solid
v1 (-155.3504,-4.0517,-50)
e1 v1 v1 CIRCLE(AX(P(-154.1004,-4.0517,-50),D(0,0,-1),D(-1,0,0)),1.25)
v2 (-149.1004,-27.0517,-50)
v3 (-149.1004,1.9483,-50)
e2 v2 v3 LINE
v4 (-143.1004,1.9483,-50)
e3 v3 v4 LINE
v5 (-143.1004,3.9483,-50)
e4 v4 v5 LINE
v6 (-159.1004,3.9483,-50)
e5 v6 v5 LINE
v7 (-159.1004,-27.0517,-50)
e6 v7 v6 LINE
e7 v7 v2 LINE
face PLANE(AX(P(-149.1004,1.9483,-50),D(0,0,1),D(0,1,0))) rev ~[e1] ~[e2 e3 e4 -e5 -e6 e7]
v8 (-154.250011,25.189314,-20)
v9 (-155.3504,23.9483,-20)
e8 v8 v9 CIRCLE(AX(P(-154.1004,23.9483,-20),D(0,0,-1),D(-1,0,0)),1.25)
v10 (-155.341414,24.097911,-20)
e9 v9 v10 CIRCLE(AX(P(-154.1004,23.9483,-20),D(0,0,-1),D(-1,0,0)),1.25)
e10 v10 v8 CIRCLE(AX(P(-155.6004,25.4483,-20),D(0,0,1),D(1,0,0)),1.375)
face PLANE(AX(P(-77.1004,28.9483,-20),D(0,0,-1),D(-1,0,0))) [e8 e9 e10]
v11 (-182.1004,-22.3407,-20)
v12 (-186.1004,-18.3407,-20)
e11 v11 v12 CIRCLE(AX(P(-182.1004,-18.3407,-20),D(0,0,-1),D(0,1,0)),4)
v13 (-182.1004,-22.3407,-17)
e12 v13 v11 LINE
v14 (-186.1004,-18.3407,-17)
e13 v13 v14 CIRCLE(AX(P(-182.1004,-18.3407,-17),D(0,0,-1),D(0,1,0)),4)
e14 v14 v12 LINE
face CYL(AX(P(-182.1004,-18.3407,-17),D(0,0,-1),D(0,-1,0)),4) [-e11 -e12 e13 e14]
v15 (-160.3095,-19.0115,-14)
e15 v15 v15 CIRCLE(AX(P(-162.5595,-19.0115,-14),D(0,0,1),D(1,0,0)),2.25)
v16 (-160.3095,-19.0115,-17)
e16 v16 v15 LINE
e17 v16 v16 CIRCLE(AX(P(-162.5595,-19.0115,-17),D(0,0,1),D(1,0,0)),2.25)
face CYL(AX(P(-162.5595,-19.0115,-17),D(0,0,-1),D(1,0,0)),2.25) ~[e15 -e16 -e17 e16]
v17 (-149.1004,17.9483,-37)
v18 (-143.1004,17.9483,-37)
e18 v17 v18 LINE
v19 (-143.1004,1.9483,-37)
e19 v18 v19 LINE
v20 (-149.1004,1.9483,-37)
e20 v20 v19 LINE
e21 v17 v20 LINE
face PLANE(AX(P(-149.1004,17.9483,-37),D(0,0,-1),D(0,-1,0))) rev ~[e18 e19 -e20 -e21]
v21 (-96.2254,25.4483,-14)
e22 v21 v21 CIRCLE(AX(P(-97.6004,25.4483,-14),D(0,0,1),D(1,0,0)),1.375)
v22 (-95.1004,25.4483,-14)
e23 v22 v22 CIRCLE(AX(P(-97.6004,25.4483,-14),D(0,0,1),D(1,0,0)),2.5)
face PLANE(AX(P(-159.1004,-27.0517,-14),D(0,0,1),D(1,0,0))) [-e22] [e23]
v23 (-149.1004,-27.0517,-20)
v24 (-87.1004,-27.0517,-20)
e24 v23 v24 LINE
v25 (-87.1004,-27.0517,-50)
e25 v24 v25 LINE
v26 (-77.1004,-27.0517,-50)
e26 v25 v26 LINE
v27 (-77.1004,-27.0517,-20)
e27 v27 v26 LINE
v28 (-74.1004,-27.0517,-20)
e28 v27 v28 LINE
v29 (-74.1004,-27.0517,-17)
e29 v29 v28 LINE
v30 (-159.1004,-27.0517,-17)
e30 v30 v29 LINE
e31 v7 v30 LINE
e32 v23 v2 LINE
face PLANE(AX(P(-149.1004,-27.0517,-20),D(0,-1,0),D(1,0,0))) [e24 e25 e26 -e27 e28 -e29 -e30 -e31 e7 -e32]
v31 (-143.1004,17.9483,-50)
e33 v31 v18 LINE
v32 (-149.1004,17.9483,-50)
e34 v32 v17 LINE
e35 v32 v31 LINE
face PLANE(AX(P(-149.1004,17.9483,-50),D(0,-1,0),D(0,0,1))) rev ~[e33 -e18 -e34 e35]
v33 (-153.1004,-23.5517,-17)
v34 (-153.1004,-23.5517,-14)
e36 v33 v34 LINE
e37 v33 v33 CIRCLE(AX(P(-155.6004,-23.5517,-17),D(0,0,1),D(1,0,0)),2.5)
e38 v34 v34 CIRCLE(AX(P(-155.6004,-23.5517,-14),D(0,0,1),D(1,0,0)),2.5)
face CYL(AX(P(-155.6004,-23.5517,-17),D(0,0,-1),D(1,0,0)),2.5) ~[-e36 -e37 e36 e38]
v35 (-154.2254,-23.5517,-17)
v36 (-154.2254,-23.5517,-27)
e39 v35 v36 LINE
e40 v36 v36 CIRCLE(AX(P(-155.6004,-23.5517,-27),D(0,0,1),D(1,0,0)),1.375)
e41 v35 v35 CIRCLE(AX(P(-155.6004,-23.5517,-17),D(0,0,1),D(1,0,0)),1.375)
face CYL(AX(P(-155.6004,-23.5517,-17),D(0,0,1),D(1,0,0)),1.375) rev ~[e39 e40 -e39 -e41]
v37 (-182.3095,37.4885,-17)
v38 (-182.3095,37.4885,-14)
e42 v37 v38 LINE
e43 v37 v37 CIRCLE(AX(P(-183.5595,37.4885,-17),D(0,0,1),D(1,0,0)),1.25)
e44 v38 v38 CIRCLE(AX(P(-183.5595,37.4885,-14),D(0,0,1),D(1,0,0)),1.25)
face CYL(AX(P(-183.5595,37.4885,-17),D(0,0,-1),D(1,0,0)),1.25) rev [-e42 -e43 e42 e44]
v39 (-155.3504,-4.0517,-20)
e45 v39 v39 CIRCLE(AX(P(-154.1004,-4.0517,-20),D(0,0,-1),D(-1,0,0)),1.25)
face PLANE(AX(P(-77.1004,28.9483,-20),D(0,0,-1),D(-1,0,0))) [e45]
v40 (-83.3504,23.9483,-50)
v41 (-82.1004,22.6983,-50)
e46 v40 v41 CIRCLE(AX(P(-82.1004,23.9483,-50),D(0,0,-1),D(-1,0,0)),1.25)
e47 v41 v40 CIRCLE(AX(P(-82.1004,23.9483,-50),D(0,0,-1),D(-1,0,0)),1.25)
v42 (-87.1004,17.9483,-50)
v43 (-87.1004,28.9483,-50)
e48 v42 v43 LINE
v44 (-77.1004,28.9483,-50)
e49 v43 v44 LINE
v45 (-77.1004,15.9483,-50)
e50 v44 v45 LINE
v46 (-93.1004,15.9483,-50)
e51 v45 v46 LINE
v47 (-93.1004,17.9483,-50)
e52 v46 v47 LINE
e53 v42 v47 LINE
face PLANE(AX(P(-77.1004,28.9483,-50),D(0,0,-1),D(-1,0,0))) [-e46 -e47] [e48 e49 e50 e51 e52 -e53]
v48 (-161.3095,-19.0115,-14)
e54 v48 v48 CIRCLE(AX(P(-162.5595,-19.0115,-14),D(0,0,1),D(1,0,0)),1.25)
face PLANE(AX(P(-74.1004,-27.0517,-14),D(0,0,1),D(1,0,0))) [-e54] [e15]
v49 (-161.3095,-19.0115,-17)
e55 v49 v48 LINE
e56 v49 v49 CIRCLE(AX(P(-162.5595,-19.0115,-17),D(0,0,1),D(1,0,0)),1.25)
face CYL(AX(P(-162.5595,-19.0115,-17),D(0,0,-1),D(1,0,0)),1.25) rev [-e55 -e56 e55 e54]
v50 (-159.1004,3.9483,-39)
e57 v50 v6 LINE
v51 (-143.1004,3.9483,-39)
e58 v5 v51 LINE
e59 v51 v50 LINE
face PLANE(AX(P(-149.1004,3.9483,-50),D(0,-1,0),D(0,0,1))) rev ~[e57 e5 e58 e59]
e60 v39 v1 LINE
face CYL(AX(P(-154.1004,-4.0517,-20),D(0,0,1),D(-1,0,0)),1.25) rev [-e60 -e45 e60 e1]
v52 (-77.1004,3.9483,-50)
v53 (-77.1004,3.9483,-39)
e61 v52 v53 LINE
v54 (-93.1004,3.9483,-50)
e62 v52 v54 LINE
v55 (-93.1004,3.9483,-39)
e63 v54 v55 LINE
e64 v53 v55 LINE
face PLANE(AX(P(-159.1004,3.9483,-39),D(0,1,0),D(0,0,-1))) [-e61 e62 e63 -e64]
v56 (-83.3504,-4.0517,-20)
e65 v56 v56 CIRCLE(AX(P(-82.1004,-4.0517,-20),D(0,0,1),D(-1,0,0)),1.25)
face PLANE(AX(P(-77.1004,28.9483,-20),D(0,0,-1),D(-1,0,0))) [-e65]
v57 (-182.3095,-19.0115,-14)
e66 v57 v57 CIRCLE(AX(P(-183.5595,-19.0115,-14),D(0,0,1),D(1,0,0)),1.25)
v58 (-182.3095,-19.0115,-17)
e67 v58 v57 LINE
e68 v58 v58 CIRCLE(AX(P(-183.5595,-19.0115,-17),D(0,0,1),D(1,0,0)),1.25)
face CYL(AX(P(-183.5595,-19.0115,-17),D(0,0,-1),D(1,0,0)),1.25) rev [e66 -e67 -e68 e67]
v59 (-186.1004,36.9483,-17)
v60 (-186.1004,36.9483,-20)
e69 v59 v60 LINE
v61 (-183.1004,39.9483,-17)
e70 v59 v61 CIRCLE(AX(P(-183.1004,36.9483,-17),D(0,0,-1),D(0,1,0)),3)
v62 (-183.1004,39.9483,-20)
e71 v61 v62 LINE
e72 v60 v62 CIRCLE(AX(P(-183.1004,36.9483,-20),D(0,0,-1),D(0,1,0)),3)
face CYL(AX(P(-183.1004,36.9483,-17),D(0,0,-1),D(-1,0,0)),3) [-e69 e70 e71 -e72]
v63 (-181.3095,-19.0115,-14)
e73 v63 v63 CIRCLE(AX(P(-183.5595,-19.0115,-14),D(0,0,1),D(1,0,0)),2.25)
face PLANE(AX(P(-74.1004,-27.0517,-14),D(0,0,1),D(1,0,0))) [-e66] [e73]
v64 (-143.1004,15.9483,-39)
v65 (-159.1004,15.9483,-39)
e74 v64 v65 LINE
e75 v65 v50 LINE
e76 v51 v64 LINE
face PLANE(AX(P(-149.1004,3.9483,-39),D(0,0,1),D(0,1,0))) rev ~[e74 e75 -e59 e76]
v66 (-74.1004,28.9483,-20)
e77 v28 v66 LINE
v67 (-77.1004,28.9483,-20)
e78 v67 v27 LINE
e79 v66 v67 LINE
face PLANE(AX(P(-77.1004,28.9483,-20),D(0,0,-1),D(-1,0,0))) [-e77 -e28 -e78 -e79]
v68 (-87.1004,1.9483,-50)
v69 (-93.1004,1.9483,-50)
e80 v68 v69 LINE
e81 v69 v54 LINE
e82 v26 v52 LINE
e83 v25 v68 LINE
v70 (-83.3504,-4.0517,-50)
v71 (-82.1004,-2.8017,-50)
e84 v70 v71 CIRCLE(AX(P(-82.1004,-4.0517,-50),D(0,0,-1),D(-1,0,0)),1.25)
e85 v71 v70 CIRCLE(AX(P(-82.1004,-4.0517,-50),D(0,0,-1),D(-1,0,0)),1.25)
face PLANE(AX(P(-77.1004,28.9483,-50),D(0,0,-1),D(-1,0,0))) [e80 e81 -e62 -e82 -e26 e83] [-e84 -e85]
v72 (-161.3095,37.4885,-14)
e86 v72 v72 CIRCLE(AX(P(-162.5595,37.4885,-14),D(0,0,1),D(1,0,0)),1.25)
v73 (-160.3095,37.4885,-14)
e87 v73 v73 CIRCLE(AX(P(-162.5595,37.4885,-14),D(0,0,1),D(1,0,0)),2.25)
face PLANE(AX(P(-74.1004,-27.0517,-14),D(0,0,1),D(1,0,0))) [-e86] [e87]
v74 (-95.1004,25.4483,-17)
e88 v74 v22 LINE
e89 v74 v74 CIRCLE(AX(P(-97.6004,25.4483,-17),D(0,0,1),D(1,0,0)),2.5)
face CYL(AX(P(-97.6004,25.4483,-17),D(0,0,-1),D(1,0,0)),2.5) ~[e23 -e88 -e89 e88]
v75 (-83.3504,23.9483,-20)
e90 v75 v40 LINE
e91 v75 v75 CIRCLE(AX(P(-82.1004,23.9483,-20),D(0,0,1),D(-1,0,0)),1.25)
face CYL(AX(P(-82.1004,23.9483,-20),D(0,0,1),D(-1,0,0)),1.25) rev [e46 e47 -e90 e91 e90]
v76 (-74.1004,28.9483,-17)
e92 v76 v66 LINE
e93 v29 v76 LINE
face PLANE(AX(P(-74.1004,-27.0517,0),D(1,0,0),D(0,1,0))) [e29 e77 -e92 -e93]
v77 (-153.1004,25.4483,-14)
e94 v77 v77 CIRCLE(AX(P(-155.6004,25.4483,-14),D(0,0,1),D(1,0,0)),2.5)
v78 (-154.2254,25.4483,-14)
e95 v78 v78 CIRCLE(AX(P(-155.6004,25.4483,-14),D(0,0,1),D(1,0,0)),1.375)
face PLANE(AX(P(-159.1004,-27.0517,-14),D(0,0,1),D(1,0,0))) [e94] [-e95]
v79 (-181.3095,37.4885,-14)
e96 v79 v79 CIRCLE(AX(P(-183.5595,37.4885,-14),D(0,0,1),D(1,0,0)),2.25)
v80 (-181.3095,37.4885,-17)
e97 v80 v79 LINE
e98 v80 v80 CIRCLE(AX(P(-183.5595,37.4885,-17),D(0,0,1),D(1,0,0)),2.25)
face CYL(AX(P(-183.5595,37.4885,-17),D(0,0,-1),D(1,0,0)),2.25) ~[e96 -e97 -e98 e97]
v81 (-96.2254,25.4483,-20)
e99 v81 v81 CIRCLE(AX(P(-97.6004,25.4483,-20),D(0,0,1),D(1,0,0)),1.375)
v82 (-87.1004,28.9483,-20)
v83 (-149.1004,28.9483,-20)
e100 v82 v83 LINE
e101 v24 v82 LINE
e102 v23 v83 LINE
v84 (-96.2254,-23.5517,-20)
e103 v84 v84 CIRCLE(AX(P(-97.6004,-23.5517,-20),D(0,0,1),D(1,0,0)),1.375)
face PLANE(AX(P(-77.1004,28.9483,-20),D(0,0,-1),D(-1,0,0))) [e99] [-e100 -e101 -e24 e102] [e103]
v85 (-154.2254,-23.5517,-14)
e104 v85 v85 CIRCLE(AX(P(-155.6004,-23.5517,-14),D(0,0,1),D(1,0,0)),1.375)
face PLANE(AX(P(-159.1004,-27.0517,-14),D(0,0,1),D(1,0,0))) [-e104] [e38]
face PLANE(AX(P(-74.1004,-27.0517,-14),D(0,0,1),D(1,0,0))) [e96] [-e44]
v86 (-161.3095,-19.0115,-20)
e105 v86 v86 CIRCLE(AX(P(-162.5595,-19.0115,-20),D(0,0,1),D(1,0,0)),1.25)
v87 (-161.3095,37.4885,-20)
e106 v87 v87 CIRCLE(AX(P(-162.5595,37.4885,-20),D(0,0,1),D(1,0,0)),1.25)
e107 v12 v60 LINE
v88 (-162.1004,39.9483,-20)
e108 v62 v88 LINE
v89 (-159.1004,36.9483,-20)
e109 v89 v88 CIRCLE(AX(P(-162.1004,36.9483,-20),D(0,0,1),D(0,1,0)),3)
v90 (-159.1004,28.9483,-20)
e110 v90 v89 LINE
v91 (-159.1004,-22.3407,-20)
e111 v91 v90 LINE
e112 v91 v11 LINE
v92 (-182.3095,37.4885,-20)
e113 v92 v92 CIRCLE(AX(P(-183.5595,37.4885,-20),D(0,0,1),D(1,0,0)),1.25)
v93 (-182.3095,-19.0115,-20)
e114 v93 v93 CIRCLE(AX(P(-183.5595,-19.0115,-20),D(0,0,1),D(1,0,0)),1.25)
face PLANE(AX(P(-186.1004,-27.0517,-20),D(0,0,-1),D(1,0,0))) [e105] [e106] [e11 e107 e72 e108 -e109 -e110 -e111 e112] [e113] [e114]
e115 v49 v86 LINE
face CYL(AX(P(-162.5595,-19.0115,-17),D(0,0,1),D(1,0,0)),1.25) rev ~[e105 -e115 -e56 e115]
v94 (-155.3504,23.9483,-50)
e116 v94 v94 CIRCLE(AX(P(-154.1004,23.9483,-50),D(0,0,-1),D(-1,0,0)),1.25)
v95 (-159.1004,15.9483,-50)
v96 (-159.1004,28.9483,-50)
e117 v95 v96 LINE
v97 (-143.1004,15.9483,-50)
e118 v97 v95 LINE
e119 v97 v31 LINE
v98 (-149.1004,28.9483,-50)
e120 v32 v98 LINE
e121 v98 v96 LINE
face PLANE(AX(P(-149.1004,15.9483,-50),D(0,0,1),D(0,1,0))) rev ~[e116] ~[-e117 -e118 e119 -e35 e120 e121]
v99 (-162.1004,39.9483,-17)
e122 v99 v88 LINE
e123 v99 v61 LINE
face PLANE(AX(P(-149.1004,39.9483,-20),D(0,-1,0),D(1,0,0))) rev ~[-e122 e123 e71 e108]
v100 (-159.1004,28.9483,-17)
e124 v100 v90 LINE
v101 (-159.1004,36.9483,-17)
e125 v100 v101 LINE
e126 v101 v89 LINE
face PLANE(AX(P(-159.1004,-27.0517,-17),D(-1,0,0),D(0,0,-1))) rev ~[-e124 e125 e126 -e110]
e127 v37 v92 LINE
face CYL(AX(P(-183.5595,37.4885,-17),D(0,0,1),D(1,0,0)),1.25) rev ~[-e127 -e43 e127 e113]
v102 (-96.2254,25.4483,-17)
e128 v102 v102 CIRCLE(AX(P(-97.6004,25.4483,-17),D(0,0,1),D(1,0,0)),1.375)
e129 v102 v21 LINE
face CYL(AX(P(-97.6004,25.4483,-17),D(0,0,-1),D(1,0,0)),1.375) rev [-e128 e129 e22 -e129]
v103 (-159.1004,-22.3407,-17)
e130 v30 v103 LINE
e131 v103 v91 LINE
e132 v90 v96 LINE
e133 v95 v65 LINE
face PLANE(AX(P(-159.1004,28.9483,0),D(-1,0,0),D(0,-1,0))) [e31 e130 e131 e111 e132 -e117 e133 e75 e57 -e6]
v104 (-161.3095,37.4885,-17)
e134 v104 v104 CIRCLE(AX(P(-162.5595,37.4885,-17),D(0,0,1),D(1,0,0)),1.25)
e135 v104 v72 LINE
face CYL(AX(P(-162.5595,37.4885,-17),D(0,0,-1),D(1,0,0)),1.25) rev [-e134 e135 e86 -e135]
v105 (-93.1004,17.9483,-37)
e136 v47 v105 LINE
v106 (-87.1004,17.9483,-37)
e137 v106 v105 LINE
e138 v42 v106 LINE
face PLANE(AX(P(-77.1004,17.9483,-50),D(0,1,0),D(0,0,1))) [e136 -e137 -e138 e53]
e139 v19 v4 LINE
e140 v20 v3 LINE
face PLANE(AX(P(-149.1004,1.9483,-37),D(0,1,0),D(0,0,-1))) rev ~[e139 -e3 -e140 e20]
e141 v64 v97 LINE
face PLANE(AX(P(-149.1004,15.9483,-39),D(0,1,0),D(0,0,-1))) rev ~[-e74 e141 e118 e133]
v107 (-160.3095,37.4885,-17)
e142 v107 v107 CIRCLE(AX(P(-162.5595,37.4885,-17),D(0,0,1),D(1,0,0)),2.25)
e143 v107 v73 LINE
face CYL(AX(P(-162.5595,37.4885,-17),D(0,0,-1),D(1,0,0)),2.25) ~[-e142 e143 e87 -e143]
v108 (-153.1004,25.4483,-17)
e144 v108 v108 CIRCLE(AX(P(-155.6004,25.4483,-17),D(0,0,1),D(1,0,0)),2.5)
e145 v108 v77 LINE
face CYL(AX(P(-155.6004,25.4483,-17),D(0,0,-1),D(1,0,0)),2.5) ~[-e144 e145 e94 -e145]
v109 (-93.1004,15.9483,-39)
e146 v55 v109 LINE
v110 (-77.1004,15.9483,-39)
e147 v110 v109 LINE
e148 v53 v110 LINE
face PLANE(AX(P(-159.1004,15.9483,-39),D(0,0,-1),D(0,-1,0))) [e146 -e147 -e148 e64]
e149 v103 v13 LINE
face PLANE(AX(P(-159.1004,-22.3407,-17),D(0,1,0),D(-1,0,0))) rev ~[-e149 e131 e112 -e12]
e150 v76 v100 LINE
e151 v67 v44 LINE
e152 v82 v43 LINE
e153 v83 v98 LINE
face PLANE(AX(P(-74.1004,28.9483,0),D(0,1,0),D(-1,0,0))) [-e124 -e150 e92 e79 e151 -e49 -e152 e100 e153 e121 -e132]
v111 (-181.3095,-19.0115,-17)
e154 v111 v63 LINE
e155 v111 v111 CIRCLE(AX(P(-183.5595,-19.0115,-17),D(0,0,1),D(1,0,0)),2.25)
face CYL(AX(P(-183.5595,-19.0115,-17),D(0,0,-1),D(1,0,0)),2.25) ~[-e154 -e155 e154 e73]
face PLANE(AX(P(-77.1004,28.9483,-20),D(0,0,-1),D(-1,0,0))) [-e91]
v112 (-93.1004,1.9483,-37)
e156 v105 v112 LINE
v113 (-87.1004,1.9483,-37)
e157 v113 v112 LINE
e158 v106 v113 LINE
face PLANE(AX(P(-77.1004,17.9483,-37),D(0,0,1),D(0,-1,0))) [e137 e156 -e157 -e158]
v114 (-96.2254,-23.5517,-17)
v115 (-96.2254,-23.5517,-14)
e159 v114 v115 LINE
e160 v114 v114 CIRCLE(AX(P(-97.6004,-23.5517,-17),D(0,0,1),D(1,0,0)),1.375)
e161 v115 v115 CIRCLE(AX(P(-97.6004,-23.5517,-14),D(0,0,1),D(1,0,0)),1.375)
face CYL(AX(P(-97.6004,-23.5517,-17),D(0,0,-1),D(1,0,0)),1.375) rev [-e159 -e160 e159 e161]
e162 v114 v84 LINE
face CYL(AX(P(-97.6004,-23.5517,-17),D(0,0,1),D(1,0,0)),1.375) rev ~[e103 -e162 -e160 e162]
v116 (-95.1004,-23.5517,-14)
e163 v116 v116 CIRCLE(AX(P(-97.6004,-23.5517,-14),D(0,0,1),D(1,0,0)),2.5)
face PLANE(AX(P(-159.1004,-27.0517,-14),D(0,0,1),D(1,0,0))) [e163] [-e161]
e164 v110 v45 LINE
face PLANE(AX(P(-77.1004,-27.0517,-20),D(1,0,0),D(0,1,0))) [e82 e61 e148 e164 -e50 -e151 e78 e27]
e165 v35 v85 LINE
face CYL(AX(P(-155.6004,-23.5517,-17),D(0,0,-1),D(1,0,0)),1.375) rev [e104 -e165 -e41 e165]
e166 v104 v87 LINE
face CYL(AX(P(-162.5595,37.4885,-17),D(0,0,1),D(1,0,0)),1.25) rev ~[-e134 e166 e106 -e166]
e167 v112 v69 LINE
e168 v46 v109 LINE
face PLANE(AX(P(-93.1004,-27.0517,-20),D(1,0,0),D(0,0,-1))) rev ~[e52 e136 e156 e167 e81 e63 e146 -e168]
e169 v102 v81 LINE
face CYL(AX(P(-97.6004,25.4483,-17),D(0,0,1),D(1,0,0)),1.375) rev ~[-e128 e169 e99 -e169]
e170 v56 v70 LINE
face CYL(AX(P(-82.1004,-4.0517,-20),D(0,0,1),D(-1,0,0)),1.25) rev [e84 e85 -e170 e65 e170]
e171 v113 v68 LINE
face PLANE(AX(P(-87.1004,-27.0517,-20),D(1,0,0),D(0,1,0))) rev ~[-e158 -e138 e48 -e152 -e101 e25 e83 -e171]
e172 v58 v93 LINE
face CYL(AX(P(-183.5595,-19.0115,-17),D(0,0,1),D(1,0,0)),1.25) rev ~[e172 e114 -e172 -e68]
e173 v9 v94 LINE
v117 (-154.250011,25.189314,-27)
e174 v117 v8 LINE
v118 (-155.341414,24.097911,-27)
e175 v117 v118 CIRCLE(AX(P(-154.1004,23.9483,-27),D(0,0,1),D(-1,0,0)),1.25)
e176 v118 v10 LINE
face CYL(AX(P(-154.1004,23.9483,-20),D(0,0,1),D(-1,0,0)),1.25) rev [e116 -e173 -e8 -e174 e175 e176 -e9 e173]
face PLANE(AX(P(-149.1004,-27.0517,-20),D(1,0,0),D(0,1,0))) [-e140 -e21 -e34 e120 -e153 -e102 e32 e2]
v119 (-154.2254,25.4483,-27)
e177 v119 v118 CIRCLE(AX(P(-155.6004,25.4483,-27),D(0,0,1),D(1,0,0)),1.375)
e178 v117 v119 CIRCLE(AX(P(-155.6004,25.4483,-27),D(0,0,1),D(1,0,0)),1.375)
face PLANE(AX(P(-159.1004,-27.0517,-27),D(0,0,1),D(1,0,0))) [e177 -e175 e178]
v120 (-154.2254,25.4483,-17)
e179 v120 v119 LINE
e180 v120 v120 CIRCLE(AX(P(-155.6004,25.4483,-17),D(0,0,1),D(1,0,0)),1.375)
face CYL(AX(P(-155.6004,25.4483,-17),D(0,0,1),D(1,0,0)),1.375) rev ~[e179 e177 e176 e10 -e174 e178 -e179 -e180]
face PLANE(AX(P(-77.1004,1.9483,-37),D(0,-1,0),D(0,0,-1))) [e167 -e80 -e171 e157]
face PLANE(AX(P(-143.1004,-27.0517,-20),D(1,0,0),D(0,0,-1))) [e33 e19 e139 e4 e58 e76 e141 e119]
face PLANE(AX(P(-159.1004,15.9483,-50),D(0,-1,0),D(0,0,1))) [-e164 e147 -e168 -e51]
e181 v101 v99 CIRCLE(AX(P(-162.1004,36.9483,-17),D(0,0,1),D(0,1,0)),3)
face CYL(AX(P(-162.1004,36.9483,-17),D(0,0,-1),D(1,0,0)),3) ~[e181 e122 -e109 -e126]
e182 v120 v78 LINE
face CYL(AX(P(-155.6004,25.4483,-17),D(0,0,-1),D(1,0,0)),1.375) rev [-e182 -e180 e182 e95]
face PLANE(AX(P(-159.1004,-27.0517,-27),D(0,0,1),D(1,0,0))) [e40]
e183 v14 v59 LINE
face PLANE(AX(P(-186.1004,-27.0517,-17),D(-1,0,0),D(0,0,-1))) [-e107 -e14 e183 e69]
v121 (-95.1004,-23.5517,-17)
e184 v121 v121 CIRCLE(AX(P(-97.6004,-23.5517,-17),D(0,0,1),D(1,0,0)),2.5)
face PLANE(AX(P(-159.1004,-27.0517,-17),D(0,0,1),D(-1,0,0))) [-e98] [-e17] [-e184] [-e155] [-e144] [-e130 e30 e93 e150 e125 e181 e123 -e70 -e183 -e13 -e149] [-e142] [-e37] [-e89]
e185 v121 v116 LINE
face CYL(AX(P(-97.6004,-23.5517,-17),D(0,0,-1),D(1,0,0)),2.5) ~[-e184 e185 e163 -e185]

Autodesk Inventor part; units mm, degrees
ref_plane "Plano de trabajo1" through (-77.1004, 28.9483, 0) normal (0, 0, -1) x (-1, 0, 0)
sketch "Boceto1" plane through (-77.1004, 28.9483, 0) normal (0, 0, -1) x (-1, 0, 0)
  line L0 (82, -56) -> (-3, -56)
  line L1 (-3, -56) -> (-3, 0)
  line L2 (-3, 0) -> (82, 0)
  line L3 (82, 0) -> (82, -56)
  point P0 (-77.1004, -28.9483)
extrude "Extrusión1" add sketch "Boceto1" along normal blind 20
ref_plane "Plano de trabajo3" through (-77.1004, 28.9483, 0) normal (0, 0, 1) x (1, 0, 0)
sketch "Boceto2" plane through (-77.1004, 28.9483, 0) normal (0, 0, 1) x (1, 0, 0)
  circle A0 centre (-78.5, -3.5) radius 1.375 projected
  circle A1 centre (-78.5, -3.5) radius 1.125
  circle A2 centre (-20.5, -3.5) radius 1.375 projected
  circle A3 centre (-20.5, -3.5) radius 1.125
  circle A4 centre (-20.5, -52.5) radius 1.375 projected
  circle A5 centre (-20.5, -52.5) radius 1.125
  circle A6 centre (-78.5, -52.5) radius 1.375 projected
  circle A7 centre (-78.5, -52.5) radius 1.125
  line L0 (-91.1268, 5.8368) -> (25.5851, 5.8368)
  line L1 (25.5851, 5.8368) -> (25.5851, -70.6743)
  line L2 (25.5851, -70.6743) -> (-91.1268, -70.6743)
  line L3 (-91.1268, -70.6743) -> (-91.1268, 5.8368)
  point P0 (77.1004, -28.9483)
  dimension "d3" = 2.25
  dimension "d4" = 2.25
  dimension "d5" = 2.25
  dimension "d6" = 2.25
extrude "Extrusión2" cut sketch "Boceto2" against normal blind 10 contours L0 L1 L2 L3
ref_plane "Plano de trabajo2" through (-77.1004, 28.9483, -20) normal (0, 0, -1) x (-1, 0, 0)
sketch "Boceto8" plane through (-77.1004, 28.9483, -20) normal (0, 0, -1) x (-1, 0, 0)
  circle A0 centre (77, -33) radius 1.25
  circle A1 centre (77, -5) radius 1.25
  line L0 (-3, -56) -> (82, -56) projected
  circle A2 centre (5, -33) radius 1.25
  circle A3 centre (5, -5) radius 1.25
  line L1 (82, -56) -> (82, 0) projected
  line L2 (82, -56) -> (72, -56)
  line L3 (72, -56) -> (72, 0)
  line L4 (72, 0) -> (82, 0)
  line L5 (82, 0) -> (82, -56)
  line L6 (10.1328, -56) -> (0.1328, -56)
  line L7 (5, -33) -> (5, -5)
  line L8 (0, -59.0097) -> (0, -32.6767)
  line L9 (79, -56) -> (0, -56) projected
  line L10 (0, -56) -> (10, -56)
  line L11 (10, -56) -> (10, 0)
  line L12 (10, 0) -> (0, 0)
  line L13 (0, 0) -> (0, -56)
  line L14 (82, 0) -> (-3, 0) projected
  point P0 (-77.1004, -28.9483)
  dimension "d31" = 2.5
  dimension "d32" = 2.5
  dimension "d33" = 28
  dimension "d35" = 2.5
  dimension "d36" = 72
  dimension "d37" = 2.5
  dimension "d38" = 5
  dimension "d39" = 72
  dimension "d40" = 5
  dimension "d41" = 28
  dimension "d43" = 10
  dimension "d45" = 5
  dimension "d46" = 10
  dimension "d92" = 0
extrude "Extrusión8" add sketch "Boceto8" along normal blind 30 contours L8 L13 L12 L11 L0 | L3 L4 L1 L0
ref_plane "Plano de trabajo6" through (-159.1004, -27.0517, -10) normal (-1, 0, 0) x (0, 0, 1)
sketch "Boceto9" plane through (-159.1004, -27.0517, -10) normal (-1, 0, 0) x (0, 0, 1)
  line L0 (-29, 31) -> (-40, 31)
  line L1 (-40, 31) -> (-40, 43)
  line L2 (-40, 43) -> (-29, 43)
  line L3 (-29, 43) -> (-29, 31)
  line L4 (0, 0) -> (-40, 0) projected
  line L5 (-40, 0) -> (-40, 56) projected
  line L6 (0, 56) -> (-40, 56) projected
  point P0 (10, 27.0517)
  dimension "d49" = 11
  dimension "d50" = 12
  dimension "d52" = 0
  dimension "d82" = 13
extrude "Extrusión9" cut sketch "Boceto9" against normal blind 100
ref_plane "Plano de trabajo5" through (-149.1004, -27.0517, -20) normal (1, 0, 0) x (0, 0, -1)
sketch "Boceto10" plane through (-149.1004, -27.0517, -20) normal (1, 0, 0) x (0, 0, -1)
  line L0 (17, 29) -> (30, 29)
  line L1 (30, 29) -> (30, 45)
  line L2 (30, 45) -> (17, 45)
  line L3 (17, 45) -> (17, 29)
  line L4 (-10, 56) -> (30, 56) projected
  line L5 (30, 31) -> (30, 0) projected
  line L6 (19, 31) -> (19, 43) projected
  line L7 (30, 31) -> (19, 31)
  line L8 (19, 31) -> (19, 43)
  line L9 (19, 43) -> (30, 43) projected
  line L10 (19, 43) -> (30, 43)
  point P0 (-20, 27.0517)
  dimension "d59" = 13
  dimension "d60" = 16
extrude "Extrusión10" add sketch "Boceto10" along normal blind 6 contours L3 L2 L1 L9 L6 L7 L0
sketch "Boceto11" plane through (-77.1004, -27.0517, -20) normal (1, 0, 0) x (0, 0, -1)
  line L0 (30, 43) -> (30, 74)
  line L1 (17, 29) -> (30, 29)
  line L2 (30, 29) -> (30, 45)
  line L3 (30, 45) -> (17, 45)
  line L4 (17, 45) -> (17, 29)
  line L5 (30, 31) -> (19, 31)
  line L6 (19, 31) -> (30, 31)
  line L7 (30, 31) -> (19, 31)
  line L8 (19, 31) -> (19, 43)
  line L9 (19, 31) -> (19, 43)
  line L10 (30, 43) -> (19, 43)
  line L11 (19, 43) -> (30, 43)
  line L12 (19, 43) -> (30, 43) projected
  point P0 (-20, 27.0517)
  point P1 (-20, 27.0517)
  dimension "d64" = 13
  dimension "d65" = 16
  dimension "d66" = 2
  dimension "d88" = 0
  dimension "d89" = 2
extrude "Extrusión11" add sketch "Boceto11" against normal blind 16 contours L10 L8 L5 L2 L1 L4 L3 L0
ref_plane "Plano de trabajo4" through (-159.1004, -27.0517, -10) normal (0, -1, 0) x (1, 0, 0)
sketch "Boceto12" plane through (-159.1004, -27.0517, -10) normal (0, -1, 0) x (1, 0, 0)
  line L0 (0, 0) -> (0, -40) projected
  line L1 (0, -7) -> (97.2238, -7)
  line L2 (97.2238, -7) -> (97.2238, 2.4478)
  line L3 (97.2238, 2.4478) -> (0, 2.4478)
  line L4 (0, 2.4478) -> (0, -7)
  line L5 (72, -10) -> (10, -10) projected
  point P0 (159.1004, 10)
  dimension "d69" = 3
extrude "Extrusión12" cut sketch "Boceto12" against normal blind 60
sketch "Boceto13" plane through (-155.6004, 25.4483, 0) normal (0, 0, 1) x (1, 0, 0)
  line L0 (90.0679, 13.1573) -> (-12.4886, 13.1573)
  line L1 (-12.4886, 13.1573) -> (-12.4886, -64.4116)
  line L2 (-12.4886, -64.4116) -> (90.0679, -64.4116)
  line L3 (90.0679, -64.4116) -> (90.0679, 13.1573)
  point P0 (155.6004, -25.4483)
extrude "Extrusión13" cut sketch "Boceto13" against normal blind 10
ref_plane "Plano de trabajo8" through (-159.1004, -27.0517, -17) normal (0, 0, 1) x (1, 0, 0)
sketch "Boceto14" plane through (-159.1004, -27.0517, -17) normal (0, 0, 1) x (1, 0, 0)
  circle A0 centre (61.5, 52.5) radius 1.375 projected
  circle A1 centre (61.5, 52.5) radius 1.375
  circle A2 centre (61.5, 3.5) radius 1.375 projected
  circle A3 centre (61.5, 3.5) radius 1.375
  circle A4 centre (3.5, 3.5) radius 1.375 projected
  circle A5 centre (3.5, 3.5) radius 1.375
  circle A6 centre (3.5, 52.5) radius 1.375 projected
  circle A7 centre (3.5, 52.5) radius 1.375
  point P0 (159.1004, 27.0517)
extrude "Extrusión14" cut sketch "Boceto14" against normal blind 10
ref_plane "Plano de trabajo7" through (-159.1004, -27.0517, -17) normal (0, 0, 1) x (1, 0, 0)
sketch "Boceto15" plane through (-159.1004, -27.0517, -17) normal (0, 0, 1) x (1, 0, 0)
  circle A0 centre (61.5, 52.5) radius 1.375 projected
  circle A1 centre (61.5, 52.5) radius 2.5
  circle A2 centre (61.5, 3.5) radius 1.375 projected
  circle A3 centre (61.5, 3.5) radius 2.5
  circle A4 centre (3.5, 3.5) radius 1.375 projected
  circle A5 centre (3.5, 3.5) radius 2.5
  circle A6 centre (3.5, 52.5) radius 1.375 projected
  circle A7 centre (3.5, 52.5) radius 2.5
  point P0 (159.1004, 27.0517)
  dimension "d76" = 5
  dimension "d77" = 5
  dimension "d78" = 5
  dimension "d79" = 5
extrude "Extrusión15" add sketch "Boceto15" along normal blind 3
sketch "Boceto16" plane through (-149.1004, -27.0517, -20) normal (0, -1, 0) x (1, 0, 0)
  line L0 (-10, 3) -> (-10, -30) projected
  line L1 (-10, 3) -> (-37, 3)
  line L2 (-37, 3) -> (-37, 0)
  line L3 (-37, 0) -> (-10, 0)
  line L4 (-10, 0) -> (-10, 3)
  point P0 (149.1004, 20)
  dimension "d93" = 27
  dimension "d94" = 3
extrude "Extrusión16" add sketch "Boceto16" against normal blind 67
sketch "Boceto17" plane through (-74.1004, -27.0517, -17) normal (0, 0, 1) x (1, 0, 0)
  line L0 (-85.9191, 67.0002) -> (-111.9991, 67.0002)
  line L1 (-111.9991, 67.0002) -> (-111.9991, 5.5802)
  line L2 (-111.9991, 5.5802) -> (-85.9191, 5.5802)
  line L3 (-85.9191, 5.5802) -> (-85.9191, 67.0002)
  line L4 (-91.7766, 36.2902) -> (-98.9591, 36.2902)
  line L5 (-98.9591, 36.2902) -> (-98.9591, 28.1123)
  circle A0 centre (-88.4591, 64.5402) radius 1.25
  circle A1 centre (-88.4591, 8.0402) radius 1.25
  circle A2 centre (-109.4591, 64.5402) radius 1.25
  circle A3 centre (-109.4591, 8.0402) radius 1.25
  point P0 (74.1004, 27.0517)
  dimension "d97" = 26.08
  dimension "d98" = 61.42
  dimension "d99" = 2.5
  dimension "d100" = 28.25
  dimension "d101" = 10.5
extrude "Extrusión17" cut sketch "Boceto17" against normal blind 56 contours A0 | A1 | A2 | A3
sketch "Boceto18" plane through (-74.1004, -27.0517, -17) normal (0, 0, 1) x (1, 0, 0)
  circle A0 centre (-109.4591, 64.5402) radius 1.25 projected
  circle A1 centre (-88.4591, 64.5402) radius 1.25 projected
  circle A2 centre (-88.4591, 8.0402) radius 1.25 projected
  circle A3 centre (-109.4591, 8.0402) radius 1.25 projected
  circle A4 centre (-81.5, 3.5) radius 2.5 projected
  circle A5 centre (-23.5, 52.5) radius 2.5 projected
  circle A6 centre (-23.5, 3.5) radius 2.5 projected
  circle A7 centre (-81.5, 52.5) radius 2.5 projected
  line L0 (0, 56) -> (0, 0) projected
  line L1 (-85, 56) -> (0, 56) projected
  line L2 (-85, 56) -> (-85, 67) projected
  line L3 (-112, 67) -> (-85, 67) projected
  line L4 (-112, 0) -> (-112, 67) projected
  line L5 (0, 0) -> (-112, 0) projected
  circle A8 centre (-88.4591, 64.5402) radius 2.25
  circle A9 centre (-109.4591, 64.5402) radius 2.25
  circle A10 centre (-88.4591, 8.0402) radius 2.25
  circle A11 centre (-109.4591, 8.0402) radius 2.25
  point P0 (74.1004, 27.0517)
  dimension "d104" = 5
  dimension "d105" = 4.5
  dimension "d106" = 4.5
  dimension "d107" = 4.5
  dimension "d108" = 4.5
extrude "Extrusión18" add sketch "Boceto18" along normal blind 3 contours A8 | A9 | A10 | A11
fillet "Empalme1" radius 4 1 edges at (-186.1004, -27.0517, -18.5)
sketch "Boceto19" plane through (-74.1004, -27.0517, -17) normal (0, 0, 1) x (1, 0, 0)
  line L0 (-85, 0) -> (-85, 31) projected
  line L1 (-85, 4.711) -> (-113.131, 4.711)
  line L2 (-113.131, 4.711) -> (-113.131, -0.5367)
  line L3 (-113.131, -0.5367) -> (-85, -0.5367)
  line L4 (-85, -0.5367) -> (-85, 4.711)
  point P0 (74.1004, 27.0517)
extrude "Extrusión19" cut sketch "Boceto19" against normal blind 3
fillet "Empalme2" radius 4 1 edges at (-186.1004, -22.3407, -18.5)
fillet "Empalme3" radius 3 2 edges at (-159.1004, 39.9483, -18.5) (-186.1004, 39.9483, -18.5)
properties part number "baseRaspberry"
